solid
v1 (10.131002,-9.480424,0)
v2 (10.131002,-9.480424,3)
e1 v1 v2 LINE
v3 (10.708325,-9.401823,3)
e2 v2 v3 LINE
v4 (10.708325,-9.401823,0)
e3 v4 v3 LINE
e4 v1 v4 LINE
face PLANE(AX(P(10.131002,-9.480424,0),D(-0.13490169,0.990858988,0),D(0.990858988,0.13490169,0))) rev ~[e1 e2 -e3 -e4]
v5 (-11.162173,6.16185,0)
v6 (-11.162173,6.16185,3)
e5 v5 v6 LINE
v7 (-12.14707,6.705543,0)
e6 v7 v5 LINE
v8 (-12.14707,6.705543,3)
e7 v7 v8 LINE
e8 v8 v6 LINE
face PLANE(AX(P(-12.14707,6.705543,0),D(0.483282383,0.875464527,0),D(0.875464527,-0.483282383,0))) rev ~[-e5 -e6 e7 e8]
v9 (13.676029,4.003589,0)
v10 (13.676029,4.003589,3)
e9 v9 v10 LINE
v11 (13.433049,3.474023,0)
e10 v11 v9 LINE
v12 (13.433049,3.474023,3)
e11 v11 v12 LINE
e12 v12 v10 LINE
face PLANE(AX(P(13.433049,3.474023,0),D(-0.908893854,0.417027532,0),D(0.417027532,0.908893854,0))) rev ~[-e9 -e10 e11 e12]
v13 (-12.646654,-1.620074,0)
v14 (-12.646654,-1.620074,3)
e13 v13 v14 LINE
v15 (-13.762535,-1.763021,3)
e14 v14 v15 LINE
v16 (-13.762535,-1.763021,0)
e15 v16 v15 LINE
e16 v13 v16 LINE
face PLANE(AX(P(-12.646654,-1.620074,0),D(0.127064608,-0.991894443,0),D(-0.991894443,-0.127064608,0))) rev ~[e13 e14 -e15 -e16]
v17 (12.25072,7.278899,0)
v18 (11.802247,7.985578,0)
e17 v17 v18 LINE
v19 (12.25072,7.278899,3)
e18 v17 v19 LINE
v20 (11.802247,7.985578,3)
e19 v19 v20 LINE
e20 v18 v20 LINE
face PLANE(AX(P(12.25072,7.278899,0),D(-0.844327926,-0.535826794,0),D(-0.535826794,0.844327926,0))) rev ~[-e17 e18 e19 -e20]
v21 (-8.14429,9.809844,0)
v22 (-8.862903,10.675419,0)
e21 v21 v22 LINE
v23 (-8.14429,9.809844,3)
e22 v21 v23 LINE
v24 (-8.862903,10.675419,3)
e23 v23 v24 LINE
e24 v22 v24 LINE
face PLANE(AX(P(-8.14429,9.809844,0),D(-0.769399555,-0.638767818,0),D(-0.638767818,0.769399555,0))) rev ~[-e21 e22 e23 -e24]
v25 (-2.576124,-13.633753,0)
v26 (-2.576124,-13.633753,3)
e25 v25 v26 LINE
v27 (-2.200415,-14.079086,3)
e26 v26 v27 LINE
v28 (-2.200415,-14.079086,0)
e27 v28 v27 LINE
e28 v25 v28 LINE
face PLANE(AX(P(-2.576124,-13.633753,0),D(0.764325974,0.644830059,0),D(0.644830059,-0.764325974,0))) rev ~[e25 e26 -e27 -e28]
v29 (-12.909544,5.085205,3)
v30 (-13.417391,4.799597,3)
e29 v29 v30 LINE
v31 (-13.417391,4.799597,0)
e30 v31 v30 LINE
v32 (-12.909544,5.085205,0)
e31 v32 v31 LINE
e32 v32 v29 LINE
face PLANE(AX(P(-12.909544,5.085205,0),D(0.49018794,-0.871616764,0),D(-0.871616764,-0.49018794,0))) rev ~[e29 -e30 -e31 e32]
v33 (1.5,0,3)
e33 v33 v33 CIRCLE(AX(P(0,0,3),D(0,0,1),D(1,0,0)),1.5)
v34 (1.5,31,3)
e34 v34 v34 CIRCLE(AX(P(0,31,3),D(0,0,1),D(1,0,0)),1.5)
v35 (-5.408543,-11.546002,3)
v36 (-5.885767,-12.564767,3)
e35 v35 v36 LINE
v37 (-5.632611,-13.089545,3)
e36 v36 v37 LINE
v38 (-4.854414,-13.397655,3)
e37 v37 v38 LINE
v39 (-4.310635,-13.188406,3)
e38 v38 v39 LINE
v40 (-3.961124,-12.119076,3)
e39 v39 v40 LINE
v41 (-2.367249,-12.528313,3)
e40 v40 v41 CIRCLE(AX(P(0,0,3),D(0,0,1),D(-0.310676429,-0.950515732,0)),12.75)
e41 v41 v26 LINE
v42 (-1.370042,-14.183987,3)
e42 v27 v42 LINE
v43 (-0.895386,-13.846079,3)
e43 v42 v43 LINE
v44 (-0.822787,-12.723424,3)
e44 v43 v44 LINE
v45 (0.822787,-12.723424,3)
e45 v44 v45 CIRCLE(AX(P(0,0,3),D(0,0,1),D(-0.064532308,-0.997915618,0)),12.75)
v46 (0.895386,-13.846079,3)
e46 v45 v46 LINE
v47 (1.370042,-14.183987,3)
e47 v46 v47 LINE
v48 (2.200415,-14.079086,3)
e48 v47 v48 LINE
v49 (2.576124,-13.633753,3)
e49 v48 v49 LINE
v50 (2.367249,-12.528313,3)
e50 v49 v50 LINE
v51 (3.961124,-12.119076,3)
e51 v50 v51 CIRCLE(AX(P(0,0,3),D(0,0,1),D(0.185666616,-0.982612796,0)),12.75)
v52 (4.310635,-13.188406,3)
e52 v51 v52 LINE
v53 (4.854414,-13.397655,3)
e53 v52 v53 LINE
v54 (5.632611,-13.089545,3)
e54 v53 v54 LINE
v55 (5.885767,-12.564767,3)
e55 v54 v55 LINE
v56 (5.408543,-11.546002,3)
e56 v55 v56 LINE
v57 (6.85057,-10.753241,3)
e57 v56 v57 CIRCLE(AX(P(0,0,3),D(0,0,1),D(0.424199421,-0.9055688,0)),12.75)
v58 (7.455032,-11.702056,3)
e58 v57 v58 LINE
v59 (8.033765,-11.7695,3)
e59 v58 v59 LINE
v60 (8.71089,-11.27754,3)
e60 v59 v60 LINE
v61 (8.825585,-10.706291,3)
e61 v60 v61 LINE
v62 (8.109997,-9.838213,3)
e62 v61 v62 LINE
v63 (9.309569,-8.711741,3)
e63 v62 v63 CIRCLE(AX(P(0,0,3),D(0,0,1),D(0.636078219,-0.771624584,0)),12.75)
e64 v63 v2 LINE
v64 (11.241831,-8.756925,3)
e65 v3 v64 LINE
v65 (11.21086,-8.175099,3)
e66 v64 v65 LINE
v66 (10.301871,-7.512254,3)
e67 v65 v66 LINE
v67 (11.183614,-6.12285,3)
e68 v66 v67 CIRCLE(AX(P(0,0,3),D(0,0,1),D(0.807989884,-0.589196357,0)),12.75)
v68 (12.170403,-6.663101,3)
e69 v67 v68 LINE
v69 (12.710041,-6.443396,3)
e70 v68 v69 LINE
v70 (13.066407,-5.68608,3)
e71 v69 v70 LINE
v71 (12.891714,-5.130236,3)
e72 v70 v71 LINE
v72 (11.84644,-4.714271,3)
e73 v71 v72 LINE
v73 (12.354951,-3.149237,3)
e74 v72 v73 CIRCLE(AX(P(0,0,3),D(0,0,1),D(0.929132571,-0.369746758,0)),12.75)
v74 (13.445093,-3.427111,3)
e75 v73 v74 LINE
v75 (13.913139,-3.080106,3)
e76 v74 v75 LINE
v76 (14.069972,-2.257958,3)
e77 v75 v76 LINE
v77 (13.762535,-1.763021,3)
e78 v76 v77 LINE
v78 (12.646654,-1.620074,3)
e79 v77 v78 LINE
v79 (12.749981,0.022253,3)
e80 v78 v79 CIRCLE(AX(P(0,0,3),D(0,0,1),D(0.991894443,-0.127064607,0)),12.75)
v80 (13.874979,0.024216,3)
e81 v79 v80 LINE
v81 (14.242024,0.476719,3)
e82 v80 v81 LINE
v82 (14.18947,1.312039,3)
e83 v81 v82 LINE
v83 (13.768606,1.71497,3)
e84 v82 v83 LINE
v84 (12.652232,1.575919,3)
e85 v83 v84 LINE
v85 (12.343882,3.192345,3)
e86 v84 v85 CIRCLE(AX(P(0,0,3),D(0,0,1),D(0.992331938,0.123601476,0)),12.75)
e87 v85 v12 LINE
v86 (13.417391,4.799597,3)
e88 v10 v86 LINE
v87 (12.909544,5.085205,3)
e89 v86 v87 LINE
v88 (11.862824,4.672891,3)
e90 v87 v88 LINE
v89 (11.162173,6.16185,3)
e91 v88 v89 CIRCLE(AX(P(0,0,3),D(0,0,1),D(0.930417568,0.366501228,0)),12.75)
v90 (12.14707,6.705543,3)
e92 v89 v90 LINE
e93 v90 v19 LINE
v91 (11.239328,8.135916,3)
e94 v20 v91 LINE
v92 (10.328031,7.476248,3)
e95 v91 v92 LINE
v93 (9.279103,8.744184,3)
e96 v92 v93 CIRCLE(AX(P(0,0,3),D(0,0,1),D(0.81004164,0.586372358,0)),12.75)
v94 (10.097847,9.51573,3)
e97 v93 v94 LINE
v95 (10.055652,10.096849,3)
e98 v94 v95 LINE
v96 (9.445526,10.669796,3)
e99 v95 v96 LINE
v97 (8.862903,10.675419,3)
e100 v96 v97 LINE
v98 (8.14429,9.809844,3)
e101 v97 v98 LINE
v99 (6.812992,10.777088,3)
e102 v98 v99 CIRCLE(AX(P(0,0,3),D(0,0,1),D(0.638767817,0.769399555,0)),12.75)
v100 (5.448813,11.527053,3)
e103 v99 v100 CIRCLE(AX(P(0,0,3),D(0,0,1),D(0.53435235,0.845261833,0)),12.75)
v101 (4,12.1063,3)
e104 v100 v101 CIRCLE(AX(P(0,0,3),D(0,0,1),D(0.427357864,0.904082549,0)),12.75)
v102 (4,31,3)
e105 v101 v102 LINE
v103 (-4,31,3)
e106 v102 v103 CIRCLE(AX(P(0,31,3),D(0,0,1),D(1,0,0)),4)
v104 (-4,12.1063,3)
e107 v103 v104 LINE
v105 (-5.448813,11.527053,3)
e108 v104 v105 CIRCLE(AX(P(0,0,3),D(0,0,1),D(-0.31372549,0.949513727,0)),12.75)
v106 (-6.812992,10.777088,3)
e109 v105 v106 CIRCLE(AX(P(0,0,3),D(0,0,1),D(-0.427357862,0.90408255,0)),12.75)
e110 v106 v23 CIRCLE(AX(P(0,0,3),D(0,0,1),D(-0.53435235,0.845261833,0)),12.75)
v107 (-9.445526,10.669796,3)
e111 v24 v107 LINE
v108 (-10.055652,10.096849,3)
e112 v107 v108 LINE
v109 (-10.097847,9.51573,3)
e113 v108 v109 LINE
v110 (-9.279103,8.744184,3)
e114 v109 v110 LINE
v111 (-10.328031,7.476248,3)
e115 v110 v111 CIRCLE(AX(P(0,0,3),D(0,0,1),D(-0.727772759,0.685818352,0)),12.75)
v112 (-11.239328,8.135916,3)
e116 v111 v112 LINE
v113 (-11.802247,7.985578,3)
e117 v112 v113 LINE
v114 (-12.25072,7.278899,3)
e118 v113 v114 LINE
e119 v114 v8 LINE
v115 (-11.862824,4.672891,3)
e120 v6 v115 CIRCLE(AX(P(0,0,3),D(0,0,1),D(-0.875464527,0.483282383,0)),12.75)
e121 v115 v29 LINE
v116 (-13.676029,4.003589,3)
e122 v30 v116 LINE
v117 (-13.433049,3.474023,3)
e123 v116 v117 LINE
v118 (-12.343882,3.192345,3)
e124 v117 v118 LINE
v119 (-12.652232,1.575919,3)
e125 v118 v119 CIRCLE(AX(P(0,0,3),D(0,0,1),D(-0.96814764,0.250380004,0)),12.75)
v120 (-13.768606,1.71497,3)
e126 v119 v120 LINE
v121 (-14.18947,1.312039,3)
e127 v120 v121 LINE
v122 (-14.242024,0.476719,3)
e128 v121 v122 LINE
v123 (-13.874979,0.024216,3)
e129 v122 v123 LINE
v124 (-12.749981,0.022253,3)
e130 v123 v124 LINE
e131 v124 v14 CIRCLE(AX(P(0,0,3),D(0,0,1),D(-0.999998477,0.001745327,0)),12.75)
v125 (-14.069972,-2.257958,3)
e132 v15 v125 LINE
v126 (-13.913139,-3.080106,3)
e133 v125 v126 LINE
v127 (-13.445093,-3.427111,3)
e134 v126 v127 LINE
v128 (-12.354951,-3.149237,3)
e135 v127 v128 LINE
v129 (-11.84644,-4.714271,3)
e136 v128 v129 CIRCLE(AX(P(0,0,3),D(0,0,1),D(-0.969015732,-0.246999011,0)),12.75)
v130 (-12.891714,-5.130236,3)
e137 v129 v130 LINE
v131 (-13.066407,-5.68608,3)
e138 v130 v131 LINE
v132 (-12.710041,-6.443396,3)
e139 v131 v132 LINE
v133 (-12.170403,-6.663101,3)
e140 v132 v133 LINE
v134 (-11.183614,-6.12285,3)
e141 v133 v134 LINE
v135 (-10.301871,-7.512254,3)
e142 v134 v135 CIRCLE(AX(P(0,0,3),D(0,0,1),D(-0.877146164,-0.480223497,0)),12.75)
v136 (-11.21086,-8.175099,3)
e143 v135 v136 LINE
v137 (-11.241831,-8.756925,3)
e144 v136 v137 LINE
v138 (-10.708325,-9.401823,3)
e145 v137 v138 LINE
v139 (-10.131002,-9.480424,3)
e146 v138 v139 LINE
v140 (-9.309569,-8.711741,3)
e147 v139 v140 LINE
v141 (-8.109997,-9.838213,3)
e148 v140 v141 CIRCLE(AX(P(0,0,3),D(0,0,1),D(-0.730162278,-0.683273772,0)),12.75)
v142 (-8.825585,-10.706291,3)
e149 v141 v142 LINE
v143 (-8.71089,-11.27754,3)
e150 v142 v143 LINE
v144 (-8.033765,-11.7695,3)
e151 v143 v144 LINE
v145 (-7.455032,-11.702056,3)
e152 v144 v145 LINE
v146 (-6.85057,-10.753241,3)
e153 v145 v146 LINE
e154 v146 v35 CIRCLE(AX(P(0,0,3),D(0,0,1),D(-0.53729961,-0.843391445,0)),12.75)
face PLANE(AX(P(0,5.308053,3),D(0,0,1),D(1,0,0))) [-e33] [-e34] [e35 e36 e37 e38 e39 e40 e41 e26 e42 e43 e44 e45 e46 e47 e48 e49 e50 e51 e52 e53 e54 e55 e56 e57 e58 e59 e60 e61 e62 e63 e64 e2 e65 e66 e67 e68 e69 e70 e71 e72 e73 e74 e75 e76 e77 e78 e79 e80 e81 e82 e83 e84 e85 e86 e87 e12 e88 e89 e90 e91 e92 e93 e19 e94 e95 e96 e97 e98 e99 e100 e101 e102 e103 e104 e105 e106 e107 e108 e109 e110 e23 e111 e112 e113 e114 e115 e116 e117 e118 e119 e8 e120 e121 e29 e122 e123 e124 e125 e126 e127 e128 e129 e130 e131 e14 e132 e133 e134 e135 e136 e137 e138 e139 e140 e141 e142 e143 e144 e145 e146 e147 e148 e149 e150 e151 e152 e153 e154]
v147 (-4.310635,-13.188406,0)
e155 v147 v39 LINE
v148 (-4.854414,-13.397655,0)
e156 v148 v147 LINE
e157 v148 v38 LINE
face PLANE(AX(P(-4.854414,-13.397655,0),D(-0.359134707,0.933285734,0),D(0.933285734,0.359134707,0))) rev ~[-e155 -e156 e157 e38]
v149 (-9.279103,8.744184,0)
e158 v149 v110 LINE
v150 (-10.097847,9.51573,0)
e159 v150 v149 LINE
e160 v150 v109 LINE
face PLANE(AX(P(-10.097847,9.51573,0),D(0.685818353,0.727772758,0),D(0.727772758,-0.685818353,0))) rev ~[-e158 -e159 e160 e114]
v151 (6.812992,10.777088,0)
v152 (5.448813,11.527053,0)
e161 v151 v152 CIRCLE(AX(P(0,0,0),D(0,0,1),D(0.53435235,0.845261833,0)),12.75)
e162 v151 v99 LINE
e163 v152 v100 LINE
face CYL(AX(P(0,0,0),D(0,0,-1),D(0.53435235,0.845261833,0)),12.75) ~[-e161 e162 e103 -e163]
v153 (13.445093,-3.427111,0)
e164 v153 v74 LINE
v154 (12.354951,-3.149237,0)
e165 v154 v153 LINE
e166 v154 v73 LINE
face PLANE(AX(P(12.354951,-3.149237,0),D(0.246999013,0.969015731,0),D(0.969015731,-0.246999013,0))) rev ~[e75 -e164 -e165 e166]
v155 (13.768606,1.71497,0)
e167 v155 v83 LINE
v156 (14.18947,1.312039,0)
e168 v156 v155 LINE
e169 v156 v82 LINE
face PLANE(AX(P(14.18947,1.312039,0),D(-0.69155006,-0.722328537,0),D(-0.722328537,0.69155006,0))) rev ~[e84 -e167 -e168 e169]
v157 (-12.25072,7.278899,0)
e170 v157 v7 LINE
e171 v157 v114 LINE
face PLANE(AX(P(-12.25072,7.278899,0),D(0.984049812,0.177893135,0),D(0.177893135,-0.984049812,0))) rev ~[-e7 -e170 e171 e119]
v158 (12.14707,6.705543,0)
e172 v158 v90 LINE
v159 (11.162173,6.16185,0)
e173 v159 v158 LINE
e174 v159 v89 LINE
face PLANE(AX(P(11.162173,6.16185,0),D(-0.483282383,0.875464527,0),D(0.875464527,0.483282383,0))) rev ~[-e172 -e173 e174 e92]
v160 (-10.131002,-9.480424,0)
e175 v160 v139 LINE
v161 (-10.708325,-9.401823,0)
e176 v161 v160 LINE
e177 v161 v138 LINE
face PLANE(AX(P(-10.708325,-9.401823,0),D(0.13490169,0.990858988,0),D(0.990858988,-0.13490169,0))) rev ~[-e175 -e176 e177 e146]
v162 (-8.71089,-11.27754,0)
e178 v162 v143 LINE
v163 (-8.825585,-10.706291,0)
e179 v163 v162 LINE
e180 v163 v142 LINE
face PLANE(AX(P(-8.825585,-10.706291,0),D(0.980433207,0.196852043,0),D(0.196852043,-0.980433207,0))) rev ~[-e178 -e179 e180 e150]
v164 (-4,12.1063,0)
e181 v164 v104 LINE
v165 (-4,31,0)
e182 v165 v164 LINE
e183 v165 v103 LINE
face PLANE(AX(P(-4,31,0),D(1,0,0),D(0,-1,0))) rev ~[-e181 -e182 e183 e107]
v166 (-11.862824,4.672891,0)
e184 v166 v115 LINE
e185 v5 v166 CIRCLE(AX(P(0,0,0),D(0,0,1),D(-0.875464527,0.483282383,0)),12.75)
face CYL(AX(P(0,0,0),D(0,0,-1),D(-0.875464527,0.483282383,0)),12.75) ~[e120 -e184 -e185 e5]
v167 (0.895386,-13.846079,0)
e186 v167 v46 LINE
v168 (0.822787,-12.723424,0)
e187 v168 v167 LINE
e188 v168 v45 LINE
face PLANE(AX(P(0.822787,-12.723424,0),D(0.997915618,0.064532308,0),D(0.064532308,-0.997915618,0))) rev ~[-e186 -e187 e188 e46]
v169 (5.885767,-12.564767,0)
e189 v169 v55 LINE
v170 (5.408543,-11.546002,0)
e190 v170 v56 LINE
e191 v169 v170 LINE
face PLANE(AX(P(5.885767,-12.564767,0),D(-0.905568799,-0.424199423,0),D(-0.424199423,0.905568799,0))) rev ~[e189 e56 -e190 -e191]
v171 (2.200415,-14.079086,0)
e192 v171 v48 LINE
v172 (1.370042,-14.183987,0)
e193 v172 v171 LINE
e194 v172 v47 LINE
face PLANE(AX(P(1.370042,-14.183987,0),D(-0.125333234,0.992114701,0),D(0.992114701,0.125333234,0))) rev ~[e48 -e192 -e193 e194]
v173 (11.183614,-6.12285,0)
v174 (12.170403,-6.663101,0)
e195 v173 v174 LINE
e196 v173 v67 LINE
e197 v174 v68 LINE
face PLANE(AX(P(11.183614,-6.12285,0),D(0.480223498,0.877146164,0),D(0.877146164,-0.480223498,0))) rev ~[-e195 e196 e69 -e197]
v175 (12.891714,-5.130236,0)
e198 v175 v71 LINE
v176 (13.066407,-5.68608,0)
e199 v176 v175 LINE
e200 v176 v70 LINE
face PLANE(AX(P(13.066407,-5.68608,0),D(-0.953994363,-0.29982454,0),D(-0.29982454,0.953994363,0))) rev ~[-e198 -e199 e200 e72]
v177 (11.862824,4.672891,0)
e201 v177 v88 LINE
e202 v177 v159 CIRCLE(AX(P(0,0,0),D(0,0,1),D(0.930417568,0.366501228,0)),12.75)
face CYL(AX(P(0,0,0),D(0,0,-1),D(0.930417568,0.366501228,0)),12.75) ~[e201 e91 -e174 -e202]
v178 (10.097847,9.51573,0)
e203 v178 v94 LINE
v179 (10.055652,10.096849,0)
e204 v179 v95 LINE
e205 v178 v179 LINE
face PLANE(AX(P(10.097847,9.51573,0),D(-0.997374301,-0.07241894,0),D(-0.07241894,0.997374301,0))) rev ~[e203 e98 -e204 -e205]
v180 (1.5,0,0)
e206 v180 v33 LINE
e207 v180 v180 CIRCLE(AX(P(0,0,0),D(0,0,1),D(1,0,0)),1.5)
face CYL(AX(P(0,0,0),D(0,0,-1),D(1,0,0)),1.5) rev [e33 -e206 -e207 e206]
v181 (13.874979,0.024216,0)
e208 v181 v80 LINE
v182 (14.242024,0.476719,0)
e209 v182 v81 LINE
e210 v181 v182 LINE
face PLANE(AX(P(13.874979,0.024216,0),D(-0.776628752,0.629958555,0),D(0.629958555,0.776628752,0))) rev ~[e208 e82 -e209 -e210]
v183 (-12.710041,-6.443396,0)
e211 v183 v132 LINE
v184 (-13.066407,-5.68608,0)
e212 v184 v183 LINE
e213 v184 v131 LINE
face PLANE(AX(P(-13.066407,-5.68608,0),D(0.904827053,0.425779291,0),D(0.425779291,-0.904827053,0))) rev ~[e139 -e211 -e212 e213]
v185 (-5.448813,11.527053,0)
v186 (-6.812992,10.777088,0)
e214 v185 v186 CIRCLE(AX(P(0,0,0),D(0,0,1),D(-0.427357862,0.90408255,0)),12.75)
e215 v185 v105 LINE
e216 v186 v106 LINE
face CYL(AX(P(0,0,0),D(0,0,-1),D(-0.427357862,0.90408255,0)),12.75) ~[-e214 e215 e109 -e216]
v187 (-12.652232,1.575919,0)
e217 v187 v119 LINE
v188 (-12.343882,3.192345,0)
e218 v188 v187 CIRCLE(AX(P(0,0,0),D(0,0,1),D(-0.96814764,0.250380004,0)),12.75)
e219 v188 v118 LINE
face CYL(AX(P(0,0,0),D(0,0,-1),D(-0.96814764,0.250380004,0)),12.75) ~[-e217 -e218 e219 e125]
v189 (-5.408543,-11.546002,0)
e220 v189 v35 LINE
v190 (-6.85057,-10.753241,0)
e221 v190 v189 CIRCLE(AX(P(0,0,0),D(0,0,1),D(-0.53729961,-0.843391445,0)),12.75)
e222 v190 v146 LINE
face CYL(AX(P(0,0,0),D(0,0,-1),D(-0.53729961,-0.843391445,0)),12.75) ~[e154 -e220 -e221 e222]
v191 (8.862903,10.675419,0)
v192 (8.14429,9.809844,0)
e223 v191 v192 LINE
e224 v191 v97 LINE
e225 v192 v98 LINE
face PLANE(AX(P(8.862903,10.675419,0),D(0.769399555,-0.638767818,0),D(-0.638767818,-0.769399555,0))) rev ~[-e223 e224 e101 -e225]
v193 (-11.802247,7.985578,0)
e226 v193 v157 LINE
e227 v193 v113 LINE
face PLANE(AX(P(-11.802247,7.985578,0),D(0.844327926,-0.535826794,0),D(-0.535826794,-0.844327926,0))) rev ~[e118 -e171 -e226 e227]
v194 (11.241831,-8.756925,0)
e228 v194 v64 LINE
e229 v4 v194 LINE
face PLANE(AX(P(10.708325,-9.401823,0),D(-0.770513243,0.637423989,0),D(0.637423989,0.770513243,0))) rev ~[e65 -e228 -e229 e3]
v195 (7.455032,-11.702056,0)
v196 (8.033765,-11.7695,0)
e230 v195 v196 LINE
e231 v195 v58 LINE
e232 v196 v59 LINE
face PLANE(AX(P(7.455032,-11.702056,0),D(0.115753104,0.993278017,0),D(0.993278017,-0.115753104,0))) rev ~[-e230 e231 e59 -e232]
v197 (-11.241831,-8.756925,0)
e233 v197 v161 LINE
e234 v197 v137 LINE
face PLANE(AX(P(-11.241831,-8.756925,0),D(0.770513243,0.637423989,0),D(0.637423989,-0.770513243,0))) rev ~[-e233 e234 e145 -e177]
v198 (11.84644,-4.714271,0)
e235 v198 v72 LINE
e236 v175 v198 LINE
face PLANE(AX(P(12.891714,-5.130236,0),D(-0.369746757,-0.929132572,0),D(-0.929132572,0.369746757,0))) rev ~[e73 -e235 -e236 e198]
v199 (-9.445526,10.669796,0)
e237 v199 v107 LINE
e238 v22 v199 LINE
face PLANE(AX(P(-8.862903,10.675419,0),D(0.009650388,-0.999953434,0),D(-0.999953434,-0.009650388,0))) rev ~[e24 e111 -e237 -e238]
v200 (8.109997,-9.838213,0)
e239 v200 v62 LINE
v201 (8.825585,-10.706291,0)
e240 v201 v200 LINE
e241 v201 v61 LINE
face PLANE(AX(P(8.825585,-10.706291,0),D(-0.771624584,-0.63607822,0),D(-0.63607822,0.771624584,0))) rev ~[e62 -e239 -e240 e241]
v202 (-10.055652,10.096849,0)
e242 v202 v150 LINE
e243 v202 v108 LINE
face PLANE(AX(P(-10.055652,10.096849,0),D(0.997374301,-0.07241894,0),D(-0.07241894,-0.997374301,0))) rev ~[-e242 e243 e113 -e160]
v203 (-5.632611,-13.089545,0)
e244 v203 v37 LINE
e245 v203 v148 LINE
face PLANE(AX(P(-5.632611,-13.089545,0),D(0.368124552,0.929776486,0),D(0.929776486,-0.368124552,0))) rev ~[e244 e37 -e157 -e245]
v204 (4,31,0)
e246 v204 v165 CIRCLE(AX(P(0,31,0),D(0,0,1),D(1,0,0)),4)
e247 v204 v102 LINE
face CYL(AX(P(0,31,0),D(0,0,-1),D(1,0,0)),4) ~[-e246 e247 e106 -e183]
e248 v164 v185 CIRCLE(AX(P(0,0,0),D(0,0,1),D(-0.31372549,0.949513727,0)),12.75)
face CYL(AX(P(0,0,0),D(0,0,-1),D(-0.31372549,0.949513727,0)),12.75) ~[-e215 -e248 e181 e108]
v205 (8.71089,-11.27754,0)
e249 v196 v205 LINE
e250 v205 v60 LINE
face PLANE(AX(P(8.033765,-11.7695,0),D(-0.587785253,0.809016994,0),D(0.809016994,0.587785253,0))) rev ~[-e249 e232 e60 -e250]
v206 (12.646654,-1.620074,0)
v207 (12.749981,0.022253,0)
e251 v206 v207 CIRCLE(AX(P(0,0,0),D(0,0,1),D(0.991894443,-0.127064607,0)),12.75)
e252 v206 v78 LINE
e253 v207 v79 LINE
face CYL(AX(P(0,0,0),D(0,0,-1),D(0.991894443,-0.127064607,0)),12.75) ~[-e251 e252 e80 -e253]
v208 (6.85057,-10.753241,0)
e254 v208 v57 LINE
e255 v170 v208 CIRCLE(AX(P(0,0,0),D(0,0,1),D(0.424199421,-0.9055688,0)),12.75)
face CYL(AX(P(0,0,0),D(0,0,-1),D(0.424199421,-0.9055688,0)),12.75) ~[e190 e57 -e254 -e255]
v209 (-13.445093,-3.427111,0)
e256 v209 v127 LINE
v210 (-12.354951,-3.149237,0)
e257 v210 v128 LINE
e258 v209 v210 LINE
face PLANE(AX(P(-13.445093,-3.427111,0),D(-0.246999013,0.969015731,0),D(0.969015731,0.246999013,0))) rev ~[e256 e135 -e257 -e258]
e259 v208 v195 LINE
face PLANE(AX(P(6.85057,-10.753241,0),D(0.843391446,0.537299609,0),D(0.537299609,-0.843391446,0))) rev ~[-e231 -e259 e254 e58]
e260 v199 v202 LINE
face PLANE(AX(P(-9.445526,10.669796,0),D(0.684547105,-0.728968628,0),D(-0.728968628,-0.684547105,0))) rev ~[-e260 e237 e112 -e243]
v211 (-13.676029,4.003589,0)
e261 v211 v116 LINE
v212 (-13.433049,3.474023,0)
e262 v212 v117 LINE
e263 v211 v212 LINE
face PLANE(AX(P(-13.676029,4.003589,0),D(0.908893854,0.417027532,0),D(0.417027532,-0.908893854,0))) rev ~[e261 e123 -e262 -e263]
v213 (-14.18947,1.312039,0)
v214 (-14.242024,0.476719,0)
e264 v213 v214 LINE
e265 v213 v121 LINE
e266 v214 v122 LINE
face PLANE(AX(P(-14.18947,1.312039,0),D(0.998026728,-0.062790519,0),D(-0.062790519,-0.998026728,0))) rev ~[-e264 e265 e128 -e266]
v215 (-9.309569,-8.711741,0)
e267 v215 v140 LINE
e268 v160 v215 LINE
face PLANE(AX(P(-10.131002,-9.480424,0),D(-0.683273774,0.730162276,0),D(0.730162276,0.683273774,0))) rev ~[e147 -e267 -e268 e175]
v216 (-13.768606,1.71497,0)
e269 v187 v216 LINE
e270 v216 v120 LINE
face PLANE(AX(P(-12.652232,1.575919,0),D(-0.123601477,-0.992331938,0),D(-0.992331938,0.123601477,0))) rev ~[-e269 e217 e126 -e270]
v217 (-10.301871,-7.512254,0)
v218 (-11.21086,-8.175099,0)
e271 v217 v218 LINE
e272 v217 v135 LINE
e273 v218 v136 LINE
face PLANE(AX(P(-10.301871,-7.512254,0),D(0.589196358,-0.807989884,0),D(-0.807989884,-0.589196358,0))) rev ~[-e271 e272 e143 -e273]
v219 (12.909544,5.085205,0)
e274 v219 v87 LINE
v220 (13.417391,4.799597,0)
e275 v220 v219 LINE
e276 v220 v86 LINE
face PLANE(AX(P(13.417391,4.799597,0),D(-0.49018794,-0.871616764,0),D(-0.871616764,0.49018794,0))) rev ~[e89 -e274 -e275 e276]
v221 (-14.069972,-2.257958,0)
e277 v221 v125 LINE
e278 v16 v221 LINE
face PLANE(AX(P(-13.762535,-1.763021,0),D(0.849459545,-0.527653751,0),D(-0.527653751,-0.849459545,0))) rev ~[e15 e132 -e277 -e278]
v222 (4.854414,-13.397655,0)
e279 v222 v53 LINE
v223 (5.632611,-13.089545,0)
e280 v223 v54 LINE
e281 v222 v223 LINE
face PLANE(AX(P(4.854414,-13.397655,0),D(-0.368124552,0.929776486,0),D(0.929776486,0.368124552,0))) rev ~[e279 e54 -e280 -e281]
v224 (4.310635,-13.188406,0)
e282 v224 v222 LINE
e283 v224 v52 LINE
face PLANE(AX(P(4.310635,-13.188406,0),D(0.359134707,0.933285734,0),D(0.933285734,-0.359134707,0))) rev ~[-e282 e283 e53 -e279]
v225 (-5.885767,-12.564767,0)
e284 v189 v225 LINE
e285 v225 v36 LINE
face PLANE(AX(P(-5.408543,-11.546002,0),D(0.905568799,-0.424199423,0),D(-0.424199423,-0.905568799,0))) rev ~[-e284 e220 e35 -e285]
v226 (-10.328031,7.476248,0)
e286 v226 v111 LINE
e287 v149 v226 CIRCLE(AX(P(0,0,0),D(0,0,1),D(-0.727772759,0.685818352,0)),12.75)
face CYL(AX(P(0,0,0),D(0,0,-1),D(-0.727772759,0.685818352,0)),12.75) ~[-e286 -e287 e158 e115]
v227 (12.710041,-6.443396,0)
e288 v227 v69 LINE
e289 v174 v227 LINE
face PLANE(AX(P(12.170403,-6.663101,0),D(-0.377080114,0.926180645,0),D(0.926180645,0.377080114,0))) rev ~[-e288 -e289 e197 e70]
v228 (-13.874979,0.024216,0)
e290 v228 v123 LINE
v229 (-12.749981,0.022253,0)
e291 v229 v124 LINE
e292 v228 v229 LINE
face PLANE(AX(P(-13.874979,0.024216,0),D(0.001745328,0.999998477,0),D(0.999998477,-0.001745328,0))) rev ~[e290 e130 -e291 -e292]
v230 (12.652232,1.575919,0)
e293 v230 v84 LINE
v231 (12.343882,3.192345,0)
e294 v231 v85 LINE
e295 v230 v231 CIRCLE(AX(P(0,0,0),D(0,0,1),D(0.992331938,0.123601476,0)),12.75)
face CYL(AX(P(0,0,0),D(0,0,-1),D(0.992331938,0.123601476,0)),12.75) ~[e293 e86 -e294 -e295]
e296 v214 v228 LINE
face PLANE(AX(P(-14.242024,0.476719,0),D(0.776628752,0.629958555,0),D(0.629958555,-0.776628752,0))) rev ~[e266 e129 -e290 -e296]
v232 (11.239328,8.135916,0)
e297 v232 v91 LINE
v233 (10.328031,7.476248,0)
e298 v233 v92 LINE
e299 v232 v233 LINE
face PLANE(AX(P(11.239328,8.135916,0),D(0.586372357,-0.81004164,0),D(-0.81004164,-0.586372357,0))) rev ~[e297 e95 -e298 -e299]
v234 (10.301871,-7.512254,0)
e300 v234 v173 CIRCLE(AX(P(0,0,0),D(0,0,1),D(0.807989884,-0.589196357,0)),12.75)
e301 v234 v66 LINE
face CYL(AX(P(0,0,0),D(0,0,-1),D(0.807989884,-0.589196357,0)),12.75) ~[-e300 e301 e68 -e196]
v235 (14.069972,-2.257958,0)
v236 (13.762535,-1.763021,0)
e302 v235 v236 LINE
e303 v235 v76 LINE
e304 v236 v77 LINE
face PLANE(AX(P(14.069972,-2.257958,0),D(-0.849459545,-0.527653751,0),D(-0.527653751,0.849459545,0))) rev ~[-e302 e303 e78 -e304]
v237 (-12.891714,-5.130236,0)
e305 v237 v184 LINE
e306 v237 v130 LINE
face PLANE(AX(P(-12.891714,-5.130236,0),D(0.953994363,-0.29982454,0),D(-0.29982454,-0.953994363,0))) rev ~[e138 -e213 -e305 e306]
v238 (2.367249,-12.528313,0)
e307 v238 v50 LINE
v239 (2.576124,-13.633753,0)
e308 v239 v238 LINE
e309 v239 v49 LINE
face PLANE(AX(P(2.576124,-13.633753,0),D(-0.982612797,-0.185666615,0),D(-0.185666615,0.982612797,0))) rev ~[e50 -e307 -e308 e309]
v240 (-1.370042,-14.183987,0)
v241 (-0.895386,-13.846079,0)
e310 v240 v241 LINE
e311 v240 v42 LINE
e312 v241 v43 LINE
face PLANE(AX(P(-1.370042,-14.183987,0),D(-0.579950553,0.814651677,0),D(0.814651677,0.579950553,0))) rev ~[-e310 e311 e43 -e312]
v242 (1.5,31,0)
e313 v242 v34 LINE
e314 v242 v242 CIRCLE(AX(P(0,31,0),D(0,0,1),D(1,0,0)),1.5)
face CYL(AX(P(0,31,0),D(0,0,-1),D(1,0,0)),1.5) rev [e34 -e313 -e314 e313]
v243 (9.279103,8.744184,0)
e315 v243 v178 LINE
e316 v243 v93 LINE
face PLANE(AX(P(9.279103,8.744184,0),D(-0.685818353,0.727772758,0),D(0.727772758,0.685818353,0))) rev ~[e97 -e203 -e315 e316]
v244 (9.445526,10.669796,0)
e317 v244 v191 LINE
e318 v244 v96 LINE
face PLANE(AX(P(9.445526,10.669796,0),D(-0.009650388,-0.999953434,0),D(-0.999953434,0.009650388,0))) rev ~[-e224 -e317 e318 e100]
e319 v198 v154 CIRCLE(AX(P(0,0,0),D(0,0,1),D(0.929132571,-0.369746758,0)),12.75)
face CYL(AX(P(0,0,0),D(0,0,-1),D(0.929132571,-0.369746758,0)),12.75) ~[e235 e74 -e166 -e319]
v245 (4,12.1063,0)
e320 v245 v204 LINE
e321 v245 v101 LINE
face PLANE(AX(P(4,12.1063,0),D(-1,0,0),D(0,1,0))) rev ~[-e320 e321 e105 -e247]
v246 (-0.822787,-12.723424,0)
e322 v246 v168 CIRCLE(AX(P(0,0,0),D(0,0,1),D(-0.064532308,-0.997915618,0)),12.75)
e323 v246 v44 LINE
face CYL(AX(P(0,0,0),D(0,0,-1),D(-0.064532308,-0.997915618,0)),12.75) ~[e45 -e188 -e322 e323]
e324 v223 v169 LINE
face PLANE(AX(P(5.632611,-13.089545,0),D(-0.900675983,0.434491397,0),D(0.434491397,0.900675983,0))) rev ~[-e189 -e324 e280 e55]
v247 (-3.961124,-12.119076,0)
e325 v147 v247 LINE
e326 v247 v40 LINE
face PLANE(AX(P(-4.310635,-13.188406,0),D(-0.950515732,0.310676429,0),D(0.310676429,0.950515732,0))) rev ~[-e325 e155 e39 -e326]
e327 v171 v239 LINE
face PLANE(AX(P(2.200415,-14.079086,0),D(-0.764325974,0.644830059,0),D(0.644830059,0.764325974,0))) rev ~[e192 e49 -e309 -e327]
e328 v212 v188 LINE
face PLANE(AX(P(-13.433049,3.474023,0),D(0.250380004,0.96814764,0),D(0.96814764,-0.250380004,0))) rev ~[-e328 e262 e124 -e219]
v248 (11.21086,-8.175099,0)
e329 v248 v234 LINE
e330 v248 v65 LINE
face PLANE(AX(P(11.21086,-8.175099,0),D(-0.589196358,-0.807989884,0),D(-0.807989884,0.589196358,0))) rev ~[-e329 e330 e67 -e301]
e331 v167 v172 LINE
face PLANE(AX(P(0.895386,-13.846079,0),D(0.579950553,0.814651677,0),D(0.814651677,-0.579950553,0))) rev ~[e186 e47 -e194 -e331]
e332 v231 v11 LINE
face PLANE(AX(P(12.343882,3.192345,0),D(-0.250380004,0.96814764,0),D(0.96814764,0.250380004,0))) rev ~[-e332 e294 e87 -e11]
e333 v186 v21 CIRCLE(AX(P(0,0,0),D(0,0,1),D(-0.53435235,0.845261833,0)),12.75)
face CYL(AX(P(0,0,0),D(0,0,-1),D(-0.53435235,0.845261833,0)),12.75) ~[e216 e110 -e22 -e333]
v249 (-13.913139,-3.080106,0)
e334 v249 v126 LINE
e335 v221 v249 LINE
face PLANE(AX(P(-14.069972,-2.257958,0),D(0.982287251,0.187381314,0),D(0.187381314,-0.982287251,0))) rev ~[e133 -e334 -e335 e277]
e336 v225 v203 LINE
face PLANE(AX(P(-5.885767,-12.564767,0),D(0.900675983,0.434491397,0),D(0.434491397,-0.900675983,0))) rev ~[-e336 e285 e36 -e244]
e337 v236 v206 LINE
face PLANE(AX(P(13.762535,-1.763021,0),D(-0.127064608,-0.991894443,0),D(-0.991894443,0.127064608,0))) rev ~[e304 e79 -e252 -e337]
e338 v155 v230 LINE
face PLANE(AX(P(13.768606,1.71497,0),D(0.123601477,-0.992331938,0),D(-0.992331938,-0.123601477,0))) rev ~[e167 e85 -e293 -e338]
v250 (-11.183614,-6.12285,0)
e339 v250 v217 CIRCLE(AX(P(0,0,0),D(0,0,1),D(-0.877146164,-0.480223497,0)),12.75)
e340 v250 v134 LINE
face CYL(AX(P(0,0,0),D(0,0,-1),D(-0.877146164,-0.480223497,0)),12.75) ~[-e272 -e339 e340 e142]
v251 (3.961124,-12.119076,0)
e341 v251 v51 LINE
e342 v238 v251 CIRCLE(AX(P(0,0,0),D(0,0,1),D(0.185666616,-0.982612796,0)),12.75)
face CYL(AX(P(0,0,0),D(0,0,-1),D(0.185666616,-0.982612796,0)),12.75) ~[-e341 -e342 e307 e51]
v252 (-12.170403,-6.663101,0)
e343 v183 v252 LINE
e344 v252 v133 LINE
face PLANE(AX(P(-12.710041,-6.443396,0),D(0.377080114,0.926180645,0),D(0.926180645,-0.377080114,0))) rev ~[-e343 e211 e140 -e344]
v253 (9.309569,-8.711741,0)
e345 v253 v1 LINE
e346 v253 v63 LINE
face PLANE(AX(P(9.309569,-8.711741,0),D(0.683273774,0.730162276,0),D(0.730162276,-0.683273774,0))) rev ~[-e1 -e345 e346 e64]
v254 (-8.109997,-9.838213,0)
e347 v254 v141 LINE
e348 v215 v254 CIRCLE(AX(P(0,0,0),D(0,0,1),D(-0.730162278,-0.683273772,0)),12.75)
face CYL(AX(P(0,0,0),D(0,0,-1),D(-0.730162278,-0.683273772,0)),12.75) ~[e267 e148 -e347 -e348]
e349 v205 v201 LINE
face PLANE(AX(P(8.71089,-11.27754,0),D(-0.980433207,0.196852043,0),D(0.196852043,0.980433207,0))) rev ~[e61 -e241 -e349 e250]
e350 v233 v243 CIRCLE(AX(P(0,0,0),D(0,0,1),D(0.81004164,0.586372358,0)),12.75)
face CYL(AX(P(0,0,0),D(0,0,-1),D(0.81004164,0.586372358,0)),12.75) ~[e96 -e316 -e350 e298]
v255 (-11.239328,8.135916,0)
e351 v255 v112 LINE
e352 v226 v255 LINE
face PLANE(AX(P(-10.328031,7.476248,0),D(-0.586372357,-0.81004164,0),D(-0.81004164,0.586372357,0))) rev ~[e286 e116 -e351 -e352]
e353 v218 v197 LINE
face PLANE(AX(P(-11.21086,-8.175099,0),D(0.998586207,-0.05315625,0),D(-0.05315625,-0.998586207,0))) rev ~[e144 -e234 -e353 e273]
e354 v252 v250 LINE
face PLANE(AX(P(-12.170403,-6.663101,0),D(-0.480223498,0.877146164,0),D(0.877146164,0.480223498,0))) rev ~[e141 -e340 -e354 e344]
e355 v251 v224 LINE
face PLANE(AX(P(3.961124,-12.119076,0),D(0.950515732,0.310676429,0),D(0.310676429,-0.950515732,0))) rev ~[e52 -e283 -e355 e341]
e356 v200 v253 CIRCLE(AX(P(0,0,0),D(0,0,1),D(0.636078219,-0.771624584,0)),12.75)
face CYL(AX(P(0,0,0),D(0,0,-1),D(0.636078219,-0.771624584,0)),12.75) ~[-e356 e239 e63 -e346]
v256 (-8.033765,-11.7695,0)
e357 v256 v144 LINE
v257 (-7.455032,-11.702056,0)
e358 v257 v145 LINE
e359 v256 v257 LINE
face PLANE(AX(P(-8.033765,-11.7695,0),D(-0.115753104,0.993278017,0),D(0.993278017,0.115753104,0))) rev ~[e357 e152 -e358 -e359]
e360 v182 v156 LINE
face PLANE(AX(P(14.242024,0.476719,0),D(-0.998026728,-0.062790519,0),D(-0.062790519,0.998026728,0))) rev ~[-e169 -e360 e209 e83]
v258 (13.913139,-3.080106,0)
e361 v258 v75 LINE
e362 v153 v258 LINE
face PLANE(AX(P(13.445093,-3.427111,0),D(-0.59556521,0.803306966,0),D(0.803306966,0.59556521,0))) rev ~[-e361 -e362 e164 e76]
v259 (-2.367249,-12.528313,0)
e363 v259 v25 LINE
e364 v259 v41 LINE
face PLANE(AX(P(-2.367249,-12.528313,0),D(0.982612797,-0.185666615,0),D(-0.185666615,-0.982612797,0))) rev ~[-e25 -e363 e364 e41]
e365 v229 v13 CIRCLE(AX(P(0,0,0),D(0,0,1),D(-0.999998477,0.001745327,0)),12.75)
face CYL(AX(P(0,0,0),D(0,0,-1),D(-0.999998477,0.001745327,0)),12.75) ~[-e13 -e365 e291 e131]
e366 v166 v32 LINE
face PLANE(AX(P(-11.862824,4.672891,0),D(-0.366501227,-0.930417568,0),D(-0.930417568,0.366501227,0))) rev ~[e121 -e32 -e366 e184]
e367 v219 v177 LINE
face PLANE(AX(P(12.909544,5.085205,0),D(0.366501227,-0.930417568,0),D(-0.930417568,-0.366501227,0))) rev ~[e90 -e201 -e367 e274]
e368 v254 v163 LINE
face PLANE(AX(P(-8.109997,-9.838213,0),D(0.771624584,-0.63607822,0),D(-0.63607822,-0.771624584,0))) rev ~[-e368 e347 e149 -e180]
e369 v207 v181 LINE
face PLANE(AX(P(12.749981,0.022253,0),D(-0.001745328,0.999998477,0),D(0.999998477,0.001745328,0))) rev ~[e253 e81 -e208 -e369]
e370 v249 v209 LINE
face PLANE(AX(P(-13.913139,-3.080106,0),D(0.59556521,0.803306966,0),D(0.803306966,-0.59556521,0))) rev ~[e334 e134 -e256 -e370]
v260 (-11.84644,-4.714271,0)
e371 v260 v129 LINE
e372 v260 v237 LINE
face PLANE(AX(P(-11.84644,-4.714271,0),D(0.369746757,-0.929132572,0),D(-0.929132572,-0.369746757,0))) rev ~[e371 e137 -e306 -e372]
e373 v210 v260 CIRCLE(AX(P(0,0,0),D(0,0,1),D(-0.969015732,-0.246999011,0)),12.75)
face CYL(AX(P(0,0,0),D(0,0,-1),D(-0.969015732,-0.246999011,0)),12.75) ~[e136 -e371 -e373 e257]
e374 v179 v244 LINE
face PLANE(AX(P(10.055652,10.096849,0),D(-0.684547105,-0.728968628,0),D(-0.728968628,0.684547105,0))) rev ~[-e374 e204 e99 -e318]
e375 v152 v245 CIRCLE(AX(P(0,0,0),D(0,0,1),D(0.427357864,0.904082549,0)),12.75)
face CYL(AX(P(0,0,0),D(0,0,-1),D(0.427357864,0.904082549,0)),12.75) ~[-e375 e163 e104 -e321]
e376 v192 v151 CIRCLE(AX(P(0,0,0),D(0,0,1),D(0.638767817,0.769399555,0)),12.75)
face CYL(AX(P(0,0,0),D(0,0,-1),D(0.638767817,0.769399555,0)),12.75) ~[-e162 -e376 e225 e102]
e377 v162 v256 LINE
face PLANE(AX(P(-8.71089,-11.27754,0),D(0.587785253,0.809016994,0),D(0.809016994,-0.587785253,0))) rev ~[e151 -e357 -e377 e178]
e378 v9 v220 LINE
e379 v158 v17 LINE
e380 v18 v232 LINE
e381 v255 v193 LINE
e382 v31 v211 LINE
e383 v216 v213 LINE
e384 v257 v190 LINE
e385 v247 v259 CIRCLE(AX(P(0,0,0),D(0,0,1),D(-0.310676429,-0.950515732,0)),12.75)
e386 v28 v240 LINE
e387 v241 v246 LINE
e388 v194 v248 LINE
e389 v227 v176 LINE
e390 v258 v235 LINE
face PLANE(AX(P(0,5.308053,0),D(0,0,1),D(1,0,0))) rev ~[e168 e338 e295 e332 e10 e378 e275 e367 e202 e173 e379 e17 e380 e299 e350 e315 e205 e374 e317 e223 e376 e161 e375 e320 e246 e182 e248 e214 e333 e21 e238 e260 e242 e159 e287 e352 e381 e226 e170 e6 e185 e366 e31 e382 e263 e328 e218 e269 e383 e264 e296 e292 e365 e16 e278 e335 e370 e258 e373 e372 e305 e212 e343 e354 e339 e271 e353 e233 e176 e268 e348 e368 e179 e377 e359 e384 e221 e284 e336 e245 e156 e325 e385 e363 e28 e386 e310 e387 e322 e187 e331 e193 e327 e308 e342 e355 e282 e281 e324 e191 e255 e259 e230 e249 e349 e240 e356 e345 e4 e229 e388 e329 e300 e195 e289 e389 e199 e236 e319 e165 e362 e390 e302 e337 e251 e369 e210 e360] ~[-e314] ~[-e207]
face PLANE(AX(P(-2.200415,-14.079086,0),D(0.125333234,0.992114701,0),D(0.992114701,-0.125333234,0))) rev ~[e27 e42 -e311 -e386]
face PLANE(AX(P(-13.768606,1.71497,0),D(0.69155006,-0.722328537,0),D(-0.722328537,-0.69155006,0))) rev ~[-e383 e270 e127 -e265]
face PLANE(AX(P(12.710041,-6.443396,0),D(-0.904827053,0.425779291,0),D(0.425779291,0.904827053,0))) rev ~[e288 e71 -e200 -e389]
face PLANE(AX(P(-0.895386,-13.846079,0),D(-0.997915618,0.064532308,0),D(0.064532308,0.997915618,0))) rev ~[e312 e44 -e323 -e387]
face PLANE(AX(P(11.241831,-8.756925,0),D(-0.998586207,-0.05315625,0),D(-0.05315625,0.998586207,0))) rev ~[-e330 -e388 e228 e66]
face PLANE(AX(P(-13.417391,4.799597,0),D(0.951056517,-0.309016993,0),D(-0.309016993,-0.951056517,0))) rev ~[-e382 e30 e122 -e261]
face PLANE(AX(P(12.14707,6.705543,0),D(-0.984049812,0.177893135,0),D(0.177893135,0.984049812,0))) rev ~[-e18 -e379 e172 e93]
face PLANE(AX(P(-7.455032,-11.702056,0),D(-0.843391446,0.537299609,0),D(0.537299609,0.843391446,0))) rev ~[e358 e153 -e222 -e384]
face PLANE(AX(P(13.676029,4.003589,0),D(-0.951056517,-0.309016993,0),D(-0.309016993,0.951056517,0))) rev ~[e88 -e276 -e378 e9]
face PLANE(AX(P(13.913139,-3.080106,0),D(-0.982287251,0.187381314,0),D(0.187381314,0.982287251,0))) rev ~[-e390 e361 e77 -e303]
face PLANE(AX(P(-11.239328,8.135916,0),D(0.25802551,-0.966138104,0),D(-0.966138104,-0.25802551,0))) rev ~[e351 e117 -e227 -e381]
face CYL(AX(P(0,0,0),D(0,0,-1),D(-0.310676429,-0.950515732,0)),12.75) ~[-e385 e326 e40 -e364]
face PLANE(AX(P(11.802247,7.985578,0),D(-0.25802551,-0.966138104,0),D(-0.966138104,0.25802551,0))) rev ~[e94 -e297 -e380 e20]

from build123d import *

# Parameters (mm, degrees)
SKETCH1_R           = 1.5
BOSS_EXTRUDE2_DEPTH = 3


with BuildPart() as part:
    # Sketch1 → Boss-Extrude2 (new body)
    with BuildSketch(Plane.XY):
        with BuildLine():
            Line((-4, 31), (-4, 12.106300013))
            ThreePointArc((-4, 12.106300013), (-4.733275563, 11.838859846), (-5.448812758, 11.527052508))
            ThreePointArc((-5.448812758, 11.527052508), (-6.142359345, 11.172910171), (-6.812992455, 10.777088374))
            ThreePointArc((-6.812992455, 10.777088374), (-7.494261967, 10.314966678), (-8.144289673, 9.809844327))
            Line((-8.144289673, 9.809844327), (-8.862903468, 10.675418826))
            Line((-8.862903468, 10.675418826), (-9.445525531, 10.669796035))
            Line((-9.445525531, 10.669796035), (-10.055652175, 10.096848981))
            Line((-10.055652175, 10.096848981), (-10.097847012, 9.515729647))
            Line((-10.097847012, 9.515729647), (-9.27910266, 8.744184))
            ThreePointArc((-9.27910266, 8.744184), (-9.824043845, 8.127155869), (-10.328030916, 7.476247548))
            Line((-10.328030916, 7.476247548), (-11.239327761, 8.13591645))
            Line((-11.239327761, 8.13591645), (-11.80224735, 7.985578094))
            Line((-11.80224735, 7.985578094), (-12.250719604, 7.278898898))
            Line((-12.250719604, 7.278898898), (-12.147070312, 6.705543068))
            Line((-12.147070312, 6.705543068), (-11.162172719, 6.161850387))
            ThreePointArc((-11.162172719, 6.161850387), (-11.536544919, 5.428685967), (-11.862823992, 4.672890641))
            Line((-11.862823992, 4.672890641), (-12.909543756, 5.085204521))
            Line((-12.909543756, 5.085204521), (-13.417390562, 4.799596912))
            Line((-13.417390562, 4.799596912), (-13.676029266, 4.003588828))
            Line((-13.676029266, 4.003588828), (-13.43304851, 3.474022556))
            Line((-13.43304851, 3.474022556), (-12.343882415, 3.192345052))
            ThreePointArc((-12.343882415, 3.192345052), (-12.524162447, 2.389111761), (-12.652232208, 1.575918828))
            Line((-12.652232208, 1.575918828), (-13.768605638, 1.71497049))
            Line((-13.768605638, 1.71497049), (-14.189469779, 1.312039404))
            Line((-14.189469779, 1.312039404), (-14.242023712, 0.476718548))
            Line((-14.242023712, 0.476718548), (-13.874978867, 0.024216431))
            Line((-13.874978867, 0.024216431), (-12.749980581, 0.022252937))
            ThreePointArc((-12.749980581, 0.022252937), (-12.724840787, -0.800579124), (-12.646654143, -1.62007376))
            Line((-12.646654143, -1.62007376), (-13.762535391, -1.763021444))
            Line((-13.762535391, -1.763021444), (-14.069972424, -2.257958364))
            Line((-14.069972424, -2.257958364), (-13.91313943, -3.080105712))
            Line((-13.91313943, -3.080105712), (-13.445093273, -3.427111302))
            Line((-13.445093273, -3.427111302), (-12.354950575, -3.149237412))
            ThreePointArc((-12.354950575, -3.149237412), (-12.125970583, -3.939966678), (-11.846440287, -4.714271155))
            Line((-11.846440287, -4.714271155), (-12.89171443, -5.130236257))
            Line((-12.89171443, -5.130236257), (-13.066406957, -5.686080305))
            Line((-13.066406957, -5.686080305), (-12.710041429, -6.443395602))
            Line((-12.710041429, -6.443395602), (-12.170403021, -6.663101027))
            Line((-12.170403021, -6.663101027), (-11.183613587, -6.122849592))
            ThreePointArc((-11.183613587, -6.122849592), (-10.76518105, -6.831791636), (-10.30187102, -7.512253556))
            Line((-10.30187102, -7.512253556), (-11.210859639, -8.175099458))
            Line((-11.210859639, -8.175099458), (-11.241831085, -8.756924908))
            Line((-11.241831085, -8.756924908), (-10.70832478, -9.401823249))
            Line((-10.70832478, -9.401823249), (-10.131001588, -9.48042361))
            Line((-10.131001588, -9.48042361), (-9.309569027, -8.711740614))
            ThreePointArc((-9.309569027, -8.711740614), (-8.727975601, -9.29435), (-8.109997309, -9.838213438))
            Line((-8.109997309, -9.838213438), (-8.825585306, -10.706291095))
            Line((-8.825585306, -10.706291095), (-8.710889622, -11.277539713))
            Line((-8.710889622, -11.277539713), (-8.033764703, -11.769499764))
            Line((-8.033764703, -11.769499764), (-7.455032066, -11.702056311))
            Line((-7.455032066, -11.702056311), (-6.850570006, -10.753240934))
            ThreePointArc((-6.850570006, -10.753240934), (-6.142359345, -11.172910171), (-5.40854264, -11.546002187))
            Line((-5.40854264, -11.546002187), (-5.885766991, -12.564767086))
            Line((-5.885766991, -12.564767086), (-5.632610928, -13.089545223))
            Line((-5.632610928, -13.089545223), (-4.854413643, -13.397655324))
            Line((-4.854413643, -13.397655324), (-4.310635461, -13.188405776))
            Line((-4.310635461, -13.188405776), (-3.961124478, -12.119075578))
            ThreePointArc((-3.961124478, -12.119075578), (-3.170796061, -12.349435304), (-2.367249346, -12.528313156))
            Line((-2.367249346, -12.528313156), (-2.576124288, -13.633752552))
            Line((-2.576124288, -13.633752552), (-2.200414573, -14.079086466))
            Line((-2.200414573, -14.079086466), (-1.370041921, -14.183986927))
            Line((-1.370041921, -14.183986927), (-0.895385777, -13.846079204))
            Line((-0.895385777, -13.846079204), (-0.82278693, -12.723424133))
            ThreePointArc((-0.82278693, -12.723424133), (0, -12.75), (0.82278693, -12.723424133))
            Line((0.82278693, -12.723424133), (0.895385777, -13.846079204))
            Line((0.895385777, -13.846079204), (1.370041921, -14.183986927))
            Line((1.370041921, -14.183986927), (2.200414573, -14.079086466))
            Line((2.200414573, -14.079086466), (2.576124288, -13.633752552))
            Line((2.576124288, -13.633752552), (2.367249346, -12.528313156))
            ThreePointArc((2.367249346, -12.528313156), (3.170796061, -12.349435304), (3.961124478, -12.119075578))
            Line((3.961124478, -12.119075578), (4.310635461, -13.188405776))
            Line((4.310635461, -13.188405776), (4.854413643, -13.397655324))
            Line((4.854413643, -13.397655324), (5.632610928, -13.089545223))
            Line((5.632610928, -13.089545223), (5.885766991, -12.564767086))
            Line((5.885766991, -12.564767086), (5.40854264, -11.546002187))
            ThreePointArc((5.40854264, -11.546002187), (6.142359345, -11.172910171), (6.850570006, -10.753240934))
            Line((6.850570006, -10.753240934), (7.455032066, -11.702056311))
            Line((7.455032066, -11.702056311), (8.033764703, -11.769499764))
            Line((8.033764703, -11.769499764), (8.710889622, -11.277539713))
            Line((8.710889622, -11.277539713), (8.825585306, -10.706291095))
            Line((8.825585306, -10.706291095), (8.109997309, -9.838213438))
            ThreePointArc((8.109997309, -9.838213438), (8.727975601, -9.29435), (9.309569027, -8.711740614))
            Line((9.309569027, -8.711740614), (10.131001588, -9.48042361))
            Line((10.131001588, -9.48042361), (10.70832478, -9.401823249))
            Line((10.70832478, -9.401823249), (11.241831085, -8.756924908))
            Line((11.241831085, -8.756924908), (11.210859639, -8.175099458))
            Line((11.210859639, -8.175099458), (10.30187102, -7.512253556))
            ThreePointArc((10.30187102, -7.512253556), (10.76518105, -6.831791636), (11.183613587, -6.122849592))
            Line((11.183613587, -6.122849592), (12.170403021, -6.663101027))
            Line((12.170403021, -6.663101027), (12.710041429, -6.443395602))
            Line((12.710041429, -6.443395602), (13.066406957, -5.686080305))
            Line((13.066406957, -5.686080305), (12.89171443, -5.130236257))
            Line((12.89171443, -5.130236257), (11.846440287, -4.714271155))
            ThreePointArc((11.846440287, -4.714271155), (12.125970583, -3.939966678), (12.354950575, -3.149237412))
            Line((12.354950575, -3.149237412), (13.445093273, -3.427111302))
            Line((13.445093273, -3.427111302), (13.91313943, -3.080105712))
            Line((13.91313943, -3.080105712), (14.069972424, -2.257958364))
            Line((14.069972424, -2.257958364), (13.762535391, -1.763021444))
            Line((13.762535391, -1.763021444), (12.646654143, -1.62007376))
            ThreePointArc((12.646654143, -1.62007376), (12.724840787, -0.800579124), (12.749980581, 0.022252937))
            Line((12.749980581, 0.022252937), (13.874978867, 0.024216431))
            Line((13.874978867, 0.024216431), (14.242023712, 0.476718548))
            Line((14.242023712, 0.476718548), (14.189469779, 1.312039404))
            Line((14.189469779, 1.312039404), (13.768605638, 1.71497049))
            Line((13.768605638, 1.71497049), (12.652232208, 1.575918828))
            ThreePointArc((12.652232208, 1.575918828), (12.524162447, 2.389111761), (12.343882415, 3.192345052))
            Line((12.343882415, 3.192345052), (13.43304851, 3.474022556))
            Line((13.43304851, 3.474022556), (13.676029266, 4.003588828))
            Line((13.676029266, 4.003588828), (13.417390562, 4.799596912))
            Line((13.417390562, 4.799596912), (12.909543756, 5.085204521))
            Line((12.909543756, 5.085204521), (11.862823992, 4.672890641))
            ThreePointArc((11.862823992, 4.672890641), (11.536544919, 5.428685967), (11.162172719, 6.161850387))
            Line((11.162172719, 6.161850387), (12.147070312, 6.705543068))
            Line((12.147070312, 6.705543068), (12.250719604, 7.278898898))
            Line((12.250719604, 7.278898898), (11.80224735, 7.985578094))
            Line((11.80224735, 7.985578094), (11.239327761, 8.13591645))
            Line((11.239327761, 8.13591645), (10.328030916, 7.476247548))
            ThreePointArc((10.328030916, 7.476247548), (9.824043845, 8.127155869), (9.27910266, 8.744184))
            Line((9.27910266, 8.744184), (10.097847012, 9.515729647))
            Line((10.097847012, 9.515729647), (10.055652175, 10.096848981))
            Line((10.055652175, 10.096848981), (9.445525531, 10.669796035))
            Line((9.445525531, 10.669796035), (8.862903468, 10.675418826))
            Line((8.862903468, 10.675418826), (8.144289673, 9.809844327))
            ThreePointArc((8.144289673, 9.809844327), (7.494261967, 10.314966678), (6.812992455, 10.777088374))
            ThreePointArc((6.812992455, 10.777088374), (6.142359345, 11.172910171), (5.448812758, 11.527052508))
            ThreePointArc((5.448812758, 11.527052508), (4.733275563, 11.838859846), (4, 12.106300013))
            Line((4, 12.106300013), (4, 31))
            ThreePointArc((4, 31), (0, 35), (-4, 31))
        make_face()
        Circle(SKETCH1_R, mode=Mode.SUBTRACT)
        with Locations((0, 31)):
            Circle(SKETCH1_R, mode=Mode.SUBTRACT)
    extrude(amount=BOSS_EXTRUDE2_DEPTH)


solid = part.part
